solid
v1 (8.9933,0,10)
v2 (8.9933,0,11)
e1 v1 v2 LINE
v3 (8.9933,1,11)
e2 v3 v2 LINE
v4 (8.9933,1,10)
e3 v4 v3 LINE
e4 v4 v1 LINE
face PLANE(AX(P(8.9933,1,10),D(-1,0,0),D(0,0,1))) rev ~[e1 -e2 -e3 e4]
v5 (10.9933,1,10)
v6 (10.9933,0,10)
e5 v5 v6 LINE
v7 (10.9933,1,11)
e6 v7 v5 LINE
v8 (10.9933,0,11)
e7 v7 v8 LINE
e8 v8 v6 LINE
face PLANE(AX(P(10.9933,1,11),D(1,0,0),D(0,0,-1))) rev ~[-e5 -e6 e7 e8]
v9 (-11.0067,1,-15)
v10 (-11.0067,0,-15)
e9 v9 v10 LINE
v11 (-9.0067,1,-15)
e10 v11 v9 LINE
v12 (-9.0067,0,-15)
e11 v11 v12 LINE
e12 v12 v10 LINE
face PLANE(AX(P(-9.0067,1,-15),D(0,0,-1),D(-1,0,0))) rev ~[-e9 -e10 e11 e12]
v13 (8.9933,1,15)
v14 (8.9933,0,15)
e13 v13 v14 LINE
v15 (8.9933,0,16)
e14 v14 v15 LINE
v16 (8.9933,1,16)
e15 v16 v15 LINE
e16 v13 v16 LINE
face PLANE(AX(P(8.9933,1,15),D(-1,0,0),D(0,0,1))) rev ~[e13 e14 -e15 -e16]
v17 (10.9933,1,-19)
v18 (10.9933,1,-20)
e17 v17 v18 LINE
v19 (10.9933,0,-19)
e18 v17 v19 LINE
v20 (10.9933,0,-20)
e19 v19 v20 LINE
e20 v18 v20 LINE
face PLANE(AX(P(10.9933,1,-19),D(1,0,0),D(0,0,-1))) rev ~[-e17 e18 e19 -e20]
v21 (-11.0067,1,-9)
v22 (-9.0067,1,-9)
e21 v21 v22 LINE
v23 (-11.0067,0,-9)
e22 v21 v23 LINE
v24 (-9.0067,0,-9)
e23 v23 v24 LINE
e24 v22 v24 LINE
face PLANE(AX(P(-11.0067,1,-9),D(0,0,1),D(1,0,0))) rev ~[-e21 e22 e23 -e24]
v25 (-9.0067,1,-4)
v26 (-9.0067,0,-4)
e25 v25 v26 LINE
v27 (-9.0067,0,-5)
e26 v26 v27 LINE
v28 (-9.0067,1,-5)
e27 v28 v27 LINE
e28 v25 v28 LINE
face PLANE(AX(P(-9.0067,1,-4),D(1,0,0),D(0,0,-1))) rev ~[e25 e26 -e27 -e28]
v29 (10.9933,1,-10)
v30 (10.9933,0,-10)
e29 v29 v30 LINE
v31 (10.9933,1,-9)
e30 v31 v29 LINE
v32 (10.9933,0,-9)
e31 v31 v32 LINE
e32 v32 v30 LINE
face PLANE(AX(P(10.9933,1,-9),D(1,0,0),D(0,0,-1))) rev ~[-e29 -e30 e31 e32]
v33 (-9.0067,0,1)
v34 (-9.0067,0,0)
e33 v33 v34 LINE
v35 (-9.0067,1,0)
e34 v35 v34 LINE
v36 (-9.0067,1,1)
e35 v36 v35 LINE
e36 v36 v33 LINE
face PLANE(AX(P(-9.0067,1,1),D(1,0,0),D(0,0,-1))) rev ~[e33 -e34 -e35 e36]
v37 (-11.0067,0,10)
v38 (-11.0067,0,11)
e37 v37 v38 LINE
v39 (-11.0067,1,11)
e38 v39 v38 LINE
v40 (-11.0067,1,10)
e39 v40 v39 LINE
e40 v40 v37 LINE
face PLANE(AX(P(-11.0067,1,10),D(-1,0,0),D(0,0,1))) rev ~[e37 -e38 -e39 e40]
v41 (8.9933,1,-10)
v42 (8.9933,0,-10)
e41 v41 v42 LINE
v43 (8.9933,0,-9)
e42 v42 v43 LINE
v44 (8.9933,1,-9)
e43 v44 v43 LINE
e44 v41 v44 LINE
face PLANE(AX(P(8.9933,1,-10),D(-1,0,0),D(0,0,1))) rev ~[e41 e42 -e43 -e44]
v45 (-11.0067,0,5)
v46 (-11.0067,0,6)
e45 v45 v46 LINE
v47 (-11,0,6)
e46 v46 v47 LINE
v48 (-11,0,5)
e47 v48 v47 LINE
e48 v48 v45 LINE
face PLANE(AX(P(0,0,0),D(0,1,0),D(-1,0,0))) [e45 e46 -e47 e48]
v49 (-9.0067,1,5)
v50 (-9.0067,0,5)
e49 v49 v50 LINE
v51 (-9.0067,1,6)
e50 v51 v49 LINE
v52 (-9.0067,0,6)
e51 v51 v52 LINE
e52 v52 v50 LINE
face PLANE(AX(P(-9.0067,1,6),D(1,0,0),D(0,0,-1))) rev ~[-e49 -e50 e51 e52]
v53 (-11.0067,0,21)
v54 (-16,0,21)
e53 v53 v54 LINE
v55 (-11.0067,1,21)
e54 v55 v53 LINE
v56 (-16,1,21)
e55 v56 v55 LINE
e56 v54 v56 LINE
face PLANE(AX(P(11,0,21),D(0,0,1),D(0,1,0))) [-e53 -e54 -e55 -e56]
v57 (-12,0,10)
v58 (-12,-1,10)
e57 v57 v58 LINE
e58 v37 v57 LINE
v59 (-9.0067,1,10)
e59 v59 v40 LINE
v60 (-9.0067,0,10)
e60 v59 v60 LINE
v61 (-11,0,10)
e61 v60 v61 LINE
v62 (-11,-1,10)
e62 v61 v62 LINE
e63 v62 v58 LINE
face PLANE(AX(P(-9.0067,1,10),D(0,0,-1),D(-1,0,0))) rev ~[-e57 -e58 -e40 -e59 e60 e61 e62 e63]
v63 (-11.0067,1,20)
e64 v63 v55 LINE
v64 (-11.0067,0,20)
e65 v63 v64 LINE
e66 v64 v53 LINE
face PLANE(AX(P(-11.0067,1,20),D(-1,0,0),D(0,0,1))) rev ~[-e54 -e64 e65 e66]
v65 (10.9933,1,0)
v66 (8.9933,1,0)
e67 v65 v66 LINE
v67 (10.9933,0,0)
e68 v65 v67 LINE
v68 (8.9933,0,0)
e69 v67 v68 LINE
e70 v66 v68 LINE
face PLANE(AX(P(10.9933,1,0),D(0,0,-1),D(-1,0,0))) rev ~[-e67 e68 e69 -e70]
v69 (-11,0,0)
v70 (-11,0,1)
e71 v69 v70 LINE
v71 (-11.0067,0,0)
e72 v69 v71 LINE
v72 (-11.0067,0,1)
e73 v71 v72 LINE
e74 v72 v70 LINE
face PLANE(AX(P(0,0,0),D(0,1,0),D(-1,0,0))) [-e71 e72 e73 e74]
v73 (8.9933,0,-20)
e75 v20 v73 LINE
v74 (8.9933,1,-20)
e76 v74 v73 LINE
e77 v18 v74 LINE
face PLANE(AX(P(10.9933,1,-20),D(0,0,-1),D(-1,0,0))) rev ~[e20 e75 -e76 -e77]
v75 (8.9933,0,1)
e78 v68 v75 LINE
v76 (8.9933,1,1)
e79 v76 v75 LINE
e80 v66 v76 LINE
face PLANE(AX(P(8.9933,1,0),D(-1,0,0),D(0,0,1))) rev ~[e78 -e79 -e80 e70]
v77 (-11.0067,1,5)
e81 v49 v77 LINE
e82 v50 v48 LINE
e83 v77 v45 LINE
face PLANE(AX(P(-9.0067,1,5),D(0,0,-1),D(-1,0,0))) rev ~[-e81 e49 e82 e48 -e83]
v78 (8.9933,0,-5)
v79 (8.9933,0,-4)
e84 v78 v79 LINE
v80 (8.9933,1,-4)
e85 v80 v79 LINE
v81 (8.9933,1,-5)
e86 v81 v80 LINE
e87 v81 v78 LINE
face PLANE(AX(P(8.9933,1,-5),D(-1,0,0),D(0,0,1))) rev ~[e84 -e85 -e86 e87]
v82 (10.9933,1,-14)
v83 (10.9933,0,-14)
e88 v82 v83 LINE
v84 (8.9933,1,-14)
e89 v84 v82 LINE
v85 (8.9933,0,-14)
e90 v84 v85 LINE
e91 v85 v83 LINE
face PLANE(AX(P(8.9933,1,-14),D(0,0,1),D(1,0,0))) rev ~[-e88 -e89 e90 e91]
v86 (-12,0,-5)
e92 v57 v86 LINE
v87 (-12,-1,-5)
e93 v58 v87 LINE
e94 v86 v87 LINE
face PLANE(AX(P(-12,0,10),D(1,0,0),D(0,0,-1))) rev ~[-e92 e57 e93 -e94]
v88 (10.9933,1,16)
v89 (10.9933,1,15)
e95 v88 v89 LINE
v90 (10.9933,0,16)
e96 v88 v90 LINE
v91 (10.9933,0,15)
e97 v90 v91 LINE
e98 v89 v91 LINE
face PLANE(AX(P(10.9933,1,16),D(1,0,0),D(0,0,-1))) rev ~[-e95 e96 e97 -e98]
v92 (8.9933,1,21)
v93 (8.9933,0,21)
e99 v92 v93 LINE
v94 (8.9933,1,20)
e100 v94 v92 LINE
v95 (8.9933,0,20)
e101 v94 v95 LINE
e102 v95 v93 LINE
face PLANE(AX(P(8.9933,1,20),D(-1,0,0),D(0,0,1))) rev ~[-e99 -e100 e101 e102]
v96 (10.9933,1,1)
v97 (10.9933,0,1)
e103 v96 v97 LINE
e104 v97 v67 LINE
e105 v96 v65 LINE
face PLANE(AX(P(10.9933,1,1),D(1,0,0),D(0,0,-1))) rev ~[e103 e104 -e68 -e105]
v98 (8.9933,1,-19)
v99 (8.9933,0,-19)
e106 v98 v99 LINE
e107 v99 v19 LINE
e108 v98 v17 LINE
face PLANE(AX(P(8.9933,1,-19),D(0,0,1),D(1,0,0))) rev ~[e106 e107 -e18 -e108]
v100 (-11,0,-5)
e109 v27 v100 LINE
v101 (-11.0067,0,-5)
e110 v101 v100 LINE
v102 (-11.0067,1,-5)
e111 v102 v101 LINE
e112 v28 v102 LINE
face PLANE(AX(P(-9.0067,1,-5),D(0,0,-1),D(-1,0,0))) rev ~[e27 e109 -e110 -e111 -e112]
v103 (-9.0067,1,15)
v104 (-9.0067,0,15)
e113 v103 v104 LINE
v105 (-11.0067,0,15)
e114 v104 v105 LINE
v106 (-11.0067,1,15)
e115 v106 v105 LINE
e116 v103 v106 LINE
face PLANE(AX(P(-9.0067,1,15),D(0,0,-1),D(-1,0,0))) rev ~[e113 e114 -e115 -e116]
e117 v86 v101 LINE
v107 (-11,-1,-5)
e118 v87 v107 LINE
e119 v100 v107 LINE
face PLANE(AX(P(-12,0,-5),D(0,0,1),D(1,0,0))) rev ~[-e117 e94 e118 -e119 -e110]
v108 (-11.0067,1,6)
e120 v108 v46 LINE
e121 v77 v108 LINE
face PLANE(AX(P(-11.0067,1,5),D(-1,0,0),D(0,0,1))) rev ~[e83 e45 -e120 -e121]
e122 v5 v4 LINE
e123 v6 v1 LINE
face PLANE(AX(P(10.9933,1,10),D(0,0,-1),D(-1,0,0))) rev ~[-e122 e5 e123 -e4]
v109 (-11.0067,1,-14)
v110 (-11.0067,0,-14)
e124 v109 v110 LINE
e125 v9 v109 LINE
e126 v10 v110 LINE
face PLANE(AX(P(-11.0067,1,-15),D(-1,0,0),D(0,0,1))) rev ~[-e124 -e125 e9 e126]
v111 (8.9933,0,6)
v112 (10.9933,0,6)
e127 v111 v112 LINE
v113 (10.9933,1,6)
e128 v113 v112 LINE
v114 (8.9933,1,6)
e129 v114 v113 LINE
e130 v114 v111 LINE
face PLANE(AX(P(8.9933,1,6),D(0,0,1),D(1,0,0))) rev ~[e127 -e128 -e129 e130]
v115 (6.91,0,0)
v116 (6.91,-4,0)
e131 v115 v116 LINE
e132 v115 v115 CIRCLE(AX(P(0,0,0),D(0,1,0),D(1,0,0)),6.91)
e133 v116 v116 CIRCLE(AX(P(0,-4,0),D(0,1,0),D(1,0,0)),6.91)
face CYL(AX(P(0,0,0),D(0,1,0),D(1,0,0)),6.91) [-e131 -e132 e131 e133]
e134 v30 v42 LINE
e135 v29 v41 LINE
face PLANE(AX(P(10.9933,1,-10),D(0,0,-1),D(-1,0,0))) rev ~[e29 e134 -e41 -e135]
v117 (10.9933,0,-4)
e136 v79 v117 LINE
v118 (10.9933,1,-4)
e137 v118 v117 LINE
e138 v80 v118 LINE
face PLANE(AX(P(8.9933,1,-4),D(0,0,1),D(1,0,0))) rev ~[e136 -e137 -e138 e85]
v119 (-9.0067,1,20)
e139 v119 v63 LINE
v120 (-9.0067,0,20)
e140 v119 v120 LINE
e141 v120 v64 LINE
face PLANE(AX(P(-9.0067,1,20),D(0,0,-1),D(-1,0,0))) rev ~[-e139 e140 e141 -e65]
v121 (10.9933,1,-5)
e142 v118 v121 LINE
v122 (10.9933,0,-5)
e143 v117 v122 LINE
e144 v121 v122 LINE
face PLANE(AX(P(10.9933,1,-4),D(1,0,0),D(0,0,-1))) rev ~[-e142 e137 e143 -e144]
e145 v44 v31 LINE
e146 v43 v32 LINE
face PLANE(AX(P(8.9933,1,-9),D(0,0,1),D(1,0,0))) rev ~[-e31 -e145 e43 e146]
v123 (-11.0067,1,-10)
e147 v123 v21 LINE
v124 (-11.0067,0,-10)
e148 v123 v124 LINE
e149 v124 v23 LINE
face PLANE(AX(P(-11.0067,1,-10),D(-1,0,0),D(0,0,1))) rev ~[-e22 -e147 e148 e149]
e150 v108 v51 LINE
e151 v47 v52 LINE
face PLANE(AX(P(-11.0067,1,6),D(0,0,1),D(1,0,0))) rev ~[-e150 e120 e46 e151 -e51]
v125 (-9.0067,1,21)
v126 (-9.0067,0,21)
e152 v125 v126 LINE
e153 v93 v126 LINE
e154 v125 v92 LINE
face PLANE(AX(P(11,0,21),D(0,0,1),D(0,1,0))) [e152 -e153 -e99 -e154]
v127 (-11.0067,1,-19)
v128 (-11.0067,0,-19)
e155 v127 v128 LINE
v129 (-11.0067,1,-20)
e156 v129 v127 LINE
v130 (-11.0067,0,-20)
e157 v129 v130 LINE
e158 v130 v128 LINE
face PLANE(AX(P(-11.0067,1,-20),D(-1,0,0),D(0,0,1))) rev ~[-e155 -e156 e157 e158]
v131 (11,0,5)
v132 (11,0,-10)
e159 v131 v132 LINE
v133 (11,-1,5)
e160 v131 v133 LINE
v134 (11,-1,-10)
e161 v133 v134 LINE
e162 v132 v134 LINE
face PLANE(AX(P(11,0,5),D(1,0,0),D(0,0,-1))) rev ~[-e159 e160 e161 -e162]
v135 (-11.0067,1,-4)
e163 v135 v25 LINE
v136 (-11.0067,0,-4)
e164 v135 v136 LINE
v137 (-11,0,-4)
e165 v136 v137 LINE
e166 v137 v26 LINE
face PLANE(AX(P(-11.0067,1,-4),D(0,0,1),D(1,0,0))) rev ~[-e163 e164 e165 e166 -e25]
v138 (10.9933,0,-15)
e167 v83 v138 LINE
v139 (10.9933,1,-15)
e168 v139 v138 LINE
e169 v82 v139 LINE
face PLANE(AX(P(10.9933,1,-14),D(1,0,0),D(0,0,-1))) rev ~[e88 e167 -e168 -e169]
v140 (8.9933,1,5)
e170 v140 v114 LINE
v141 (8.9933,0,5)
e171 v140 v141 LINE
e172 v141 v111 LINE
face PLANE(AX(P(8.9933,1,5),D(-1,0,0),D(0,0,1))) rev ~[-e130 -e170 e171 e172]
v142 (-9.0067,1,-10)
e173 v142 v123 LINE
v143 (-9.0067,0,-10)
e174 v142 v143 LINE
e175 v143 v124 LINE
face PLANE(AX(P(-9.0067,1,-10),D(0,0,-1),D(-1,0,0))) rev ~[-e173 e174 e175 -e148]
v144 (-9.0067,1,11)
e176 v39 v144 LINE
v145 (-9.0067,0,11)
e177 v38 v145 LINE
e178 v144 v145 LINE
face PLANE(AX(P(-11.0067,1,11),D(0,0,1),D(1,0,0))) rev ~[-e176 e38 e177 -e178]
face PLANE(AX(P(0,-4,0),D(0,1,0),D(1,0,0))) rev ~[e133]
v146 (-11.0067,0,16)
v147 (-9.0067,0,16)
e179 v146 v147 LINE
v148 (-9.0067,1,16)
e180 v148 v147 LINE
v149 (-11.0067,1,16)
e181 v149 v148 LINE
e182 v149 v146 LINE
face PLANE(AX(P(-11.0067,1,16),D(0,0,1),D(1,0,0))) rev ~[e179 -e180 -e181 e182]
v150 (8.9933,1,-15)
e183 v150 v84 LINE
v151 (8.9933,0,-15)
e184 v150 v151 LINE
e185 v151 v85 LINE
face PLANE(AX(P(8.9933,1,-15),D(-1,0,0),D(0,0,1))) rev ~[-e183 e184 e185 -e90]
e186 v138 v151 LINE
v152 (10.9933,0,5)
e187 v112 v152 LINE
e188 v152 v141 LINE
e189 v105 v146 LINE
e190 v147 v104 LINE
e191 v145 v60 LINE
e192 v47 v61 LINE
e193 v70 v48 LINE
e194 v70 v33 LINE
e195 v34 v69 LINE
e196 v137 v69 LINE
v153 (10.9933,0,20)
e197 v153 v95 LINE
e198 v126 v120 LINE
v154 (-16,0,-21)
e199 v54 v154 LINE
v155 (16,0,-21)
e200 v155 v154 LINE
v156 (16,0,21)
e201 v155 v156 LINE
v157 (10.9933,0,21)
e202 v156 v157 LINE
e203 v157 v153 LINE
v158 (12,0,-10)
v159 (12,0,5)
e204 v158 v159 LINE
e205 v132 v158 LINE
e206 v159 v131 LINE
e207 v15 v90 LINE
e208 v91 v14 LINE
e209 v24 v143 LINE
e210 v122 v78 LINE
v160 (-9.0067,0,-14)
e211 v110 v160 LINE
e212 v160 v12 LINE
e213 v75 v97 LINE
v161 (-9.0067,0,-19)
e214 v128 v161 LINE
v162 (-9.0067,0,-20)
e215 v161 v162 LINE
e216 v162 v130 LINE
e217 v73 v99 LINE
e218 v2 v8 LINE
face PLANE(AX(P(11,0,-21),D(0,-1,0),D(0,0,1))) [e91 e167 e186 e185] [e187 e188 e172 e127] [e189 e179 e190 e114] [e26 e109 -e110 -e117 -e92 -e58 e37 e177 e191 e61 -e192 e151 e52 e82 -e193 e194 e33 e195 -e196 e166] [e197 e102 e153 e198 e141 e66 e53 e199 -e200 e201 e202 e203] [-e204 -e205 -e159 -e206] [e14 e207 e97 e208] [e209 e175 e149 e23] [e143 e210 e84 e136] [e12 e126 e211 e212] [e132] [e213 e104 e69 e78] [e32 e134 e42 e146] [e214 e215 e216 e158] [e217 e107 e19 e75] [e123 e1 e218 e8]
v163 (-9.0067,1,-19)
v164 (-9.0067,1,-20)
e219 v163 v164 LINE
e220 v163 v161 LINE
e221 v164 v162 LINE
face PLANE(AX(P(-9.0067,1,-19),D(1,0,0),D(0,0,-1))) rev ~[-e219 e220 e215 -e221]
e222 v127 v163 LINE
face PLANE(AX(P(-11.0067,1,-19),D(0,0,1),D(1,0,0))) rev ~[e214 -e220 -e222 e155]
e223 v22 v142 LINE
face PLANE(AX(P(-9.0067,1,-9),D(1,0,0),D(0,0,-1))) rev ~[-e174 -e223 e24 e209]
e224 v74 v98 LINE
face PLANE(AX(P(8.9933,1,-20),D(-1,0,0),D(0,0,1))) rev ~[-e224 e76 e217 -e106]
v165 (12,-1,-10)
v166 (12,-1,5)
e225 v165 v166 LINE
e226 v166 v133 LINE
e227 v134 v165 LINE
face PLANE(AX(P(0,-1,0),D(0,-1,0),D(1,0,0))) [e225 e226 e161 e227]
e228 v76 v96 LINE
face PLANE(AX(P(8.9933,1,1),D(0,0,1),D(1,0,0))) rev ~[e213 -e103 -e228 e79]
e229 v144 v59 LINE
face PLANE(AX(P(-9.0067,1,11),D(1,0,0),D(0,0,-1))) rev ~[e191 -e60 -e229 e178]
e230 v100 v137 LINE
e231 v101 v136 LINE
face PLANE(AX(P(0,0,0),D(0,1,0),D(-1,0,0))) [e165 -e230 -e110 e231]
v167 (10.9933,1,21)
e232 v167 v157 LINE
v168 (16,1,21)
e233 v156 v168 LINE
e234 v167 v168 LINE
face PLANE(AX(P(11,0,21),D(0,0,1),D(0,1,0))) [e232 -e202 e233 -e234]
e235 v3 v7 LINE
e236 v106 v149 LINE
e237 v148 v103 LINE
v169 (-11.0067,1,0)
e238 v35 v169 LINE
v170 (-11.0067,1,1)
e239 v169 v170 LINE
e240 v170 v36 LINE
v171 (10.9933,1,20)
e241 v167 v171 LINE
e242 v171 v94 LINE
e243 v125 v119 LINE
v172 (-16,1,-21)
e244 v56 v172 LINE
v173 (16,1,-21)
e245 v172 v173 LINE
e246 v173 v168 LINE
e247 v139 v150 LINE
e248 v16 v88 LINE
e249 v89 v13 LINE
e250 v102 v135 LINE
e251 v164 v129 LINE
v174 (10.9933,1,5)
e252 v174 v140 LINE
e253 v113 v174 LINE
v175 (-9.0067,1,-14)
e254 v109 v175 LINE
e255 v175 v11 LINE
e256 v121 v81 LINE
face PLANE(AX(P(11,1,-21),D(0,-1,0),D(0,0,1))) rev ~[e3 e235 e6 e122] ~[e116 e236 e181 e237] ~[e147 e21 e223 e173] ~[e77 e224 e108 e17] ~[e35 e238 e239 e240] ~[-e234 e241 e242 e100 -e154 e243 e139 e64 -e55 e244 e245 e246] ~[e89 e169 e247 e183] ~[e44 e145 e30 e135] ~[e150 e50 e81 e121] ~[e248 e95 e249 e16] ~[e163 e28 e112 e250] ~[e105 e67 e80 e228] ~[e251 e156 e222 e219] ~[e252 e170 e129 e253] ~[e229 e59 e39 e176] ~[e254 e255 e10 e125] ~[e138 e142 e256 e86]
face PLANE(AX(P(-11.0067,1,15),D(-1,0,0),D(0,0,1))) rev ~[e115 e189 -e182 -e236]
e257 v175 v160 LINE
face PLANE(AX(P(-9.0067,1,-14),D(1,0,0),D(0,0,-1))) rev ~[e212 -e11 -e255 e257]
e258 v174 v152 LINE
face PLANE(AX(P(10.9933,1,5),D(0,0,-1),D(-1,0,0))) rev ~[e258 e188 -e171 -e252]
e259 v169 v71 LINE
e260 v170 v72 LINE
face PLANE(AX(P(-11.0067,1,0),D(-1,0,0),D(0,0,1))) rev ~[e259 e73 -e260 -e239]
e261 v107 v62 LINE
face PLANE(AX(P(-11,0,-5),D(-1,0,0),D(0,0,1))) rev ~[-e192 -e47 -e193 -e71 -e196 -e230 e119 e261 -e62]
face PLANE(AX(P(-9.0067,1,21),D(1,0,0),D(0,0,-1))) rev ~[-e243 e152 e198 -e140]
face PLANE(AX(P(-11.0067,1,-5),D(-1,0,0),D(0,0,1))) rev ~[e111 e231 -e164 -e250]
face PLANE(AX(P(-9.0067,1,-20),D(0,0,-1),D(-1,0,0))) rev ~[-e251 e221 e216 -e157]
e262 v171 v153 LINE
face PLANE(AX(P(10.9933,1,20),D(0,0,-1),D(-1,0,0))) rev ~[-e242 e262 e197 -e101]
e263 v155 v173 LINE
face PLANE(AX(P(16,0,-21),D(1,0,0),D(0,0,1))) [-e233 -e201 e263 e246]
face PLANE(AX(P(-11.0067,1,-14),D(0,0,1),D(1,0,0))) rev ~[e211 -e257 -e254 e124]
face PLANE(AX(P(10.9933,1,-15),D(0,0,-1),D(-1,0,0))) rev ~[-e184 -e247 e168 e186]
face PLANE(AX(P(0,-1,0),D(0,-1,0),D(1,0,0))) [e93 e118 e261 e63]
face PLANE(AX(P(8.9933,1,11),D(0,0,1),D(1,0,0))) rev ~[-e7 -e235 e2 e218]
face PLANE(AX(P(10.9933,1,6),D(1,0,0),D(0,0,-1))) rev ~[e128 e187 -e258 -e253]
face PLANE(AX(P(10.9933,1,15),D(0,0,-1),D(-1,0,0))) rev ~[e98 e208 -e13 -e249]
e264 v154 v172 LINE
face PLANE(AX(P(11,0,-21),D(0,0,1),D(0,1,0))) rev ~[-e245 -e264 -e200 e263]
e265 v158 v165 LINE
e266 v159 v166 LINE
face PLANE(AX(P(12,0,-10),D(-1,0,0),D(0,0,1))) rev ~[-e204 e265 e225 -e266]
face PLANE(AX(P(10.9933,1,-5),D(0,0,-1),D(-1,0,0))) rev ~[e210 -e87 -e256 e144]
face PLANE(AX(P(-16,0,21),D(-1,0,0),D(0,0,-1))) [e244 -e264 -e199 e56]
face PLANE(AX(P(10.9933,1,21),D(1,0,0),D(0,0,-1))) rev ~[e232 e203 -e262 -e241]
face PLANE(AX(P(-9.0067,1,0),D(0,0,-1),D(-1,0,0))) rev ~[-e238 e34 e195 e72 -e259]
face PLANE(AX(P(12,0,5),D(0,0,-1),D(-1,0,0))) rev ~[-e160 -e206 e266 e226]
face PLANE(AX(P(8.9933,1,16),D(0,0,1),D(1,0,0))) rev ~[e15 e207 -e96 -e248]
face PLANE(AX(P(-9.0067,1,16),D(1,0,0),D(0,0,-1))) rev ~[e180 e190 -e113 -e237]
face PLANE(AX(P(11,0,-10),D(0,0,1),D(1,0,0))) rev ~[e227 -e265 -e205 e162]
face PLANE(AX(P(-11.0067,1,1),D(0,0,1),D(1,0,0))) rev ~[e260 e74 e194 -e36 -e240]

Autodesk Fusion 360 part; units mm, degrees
sketch "Sketch1" plane through (0, 0, 0) normal (0, 1, 0) x (1, 0, 0)
  circle A0 centre (0, 0) radius 6.91
  dimension "d1" = 13.82
extrude "Extrude1" add sketch "Sketch1" against normal blind 4 makes body 1
sketch "Sketch2" plane through (0, 0, 0) normal (0, 1, 0) x (1, 0, 0)
  line L0 (11, -21) -> (-11, -21)
  line L1 (-11, -21) -> (-11, 21)
  line L2 (-11, 21) -> (11, 21)
  line L3 (11, 21) -> (11, -21)
  line L4 (11, -21) -> (-11, 21) construction
  line L5 (-11, -21) -> (11, 21) construction
  dimension "d4" = 22
  dimension "d5" = 42
extrude "Extrude2" add sketch "Sketch2" along normal blind 1 bodies 1
extrude "Extrude3" add 1 faces at (-11, 0.3333, 7) along direction (-1, 0, 0) blind 5 on bodies 1 bodies 1
extrude "Extrude4" add 1 faces at (11, 0.3333, -7) along direction (1, 0, 0) blind 5 on bodies 1 bodies 1
sketch "Sketch3" plane through (0, 0, 0) normal (0, -1, 0) x (1, 0, 0)
  line L0 (-16, -21) -> (16, -21)
  line L1 (16, -21) -> (16, 21)
  line L2 (16, 21) -> (-16, 21)
  line L3 (-16, 21) -> (-16, -21)
  circle A0 centre (0, 0) radius 6.91
  line L4 (11, -10) -> (12, -10)
  line L5 (12, -10) -> (12, 5)
  line L6 (12, 5) -> (11, 5)
  line L7 (11, 5) -> (11, -10)
  line L8 (-11, 10) -> (-12, 10)
  line L9 (-12, 10) -> (-12, -5)
  line L10 (-12, -5) -> (-11, -5)
  line L11 (-11, -5) -> (-11, 10)
  dimension "d67" = 15
extrude "Extrude5" add sketch "Sketch3" along normal blind 1 separate body contours L4 L5 L6 L7 makes body 2
extrude "Extrude6" add sketch "Sketch3" along normal blind 1 separate body contours L8 L9 L10 L11 makes body 3
combine "Combine1" operation add target body 1 tool bodies 2 3
sketch "Sketch4" plane through (0, 1, 0) normal (0, 1, 0) x (-1, 0, 0)
  line L0 (-16, -21) -> (16, -21)
  line L1 (16, -21) -> (16, 21)
  line L2 (16, 21) -> (-16, 21)
  line L3 (-16, 21) -> (-16, -21)
  line L4 (11.0067, 21) -> (9.0067, 21)
  line L5 (9.0067, 21) -> (9.0067, 20)
  line L6 (9.0067, 20) -> (11.0067, 20)
  line L7 (11.0067, 20) -> (11.0067, 21)
  line L8 (9.0067, 15) -> (11.0067, 15)
  line L9 (9.0067, 16) -> (9.0067, 15)
  line L10 (11.0067, 16) -> (9.0067, 16)
  line L11 (11.0067, 15) -> (11.0067, 16)
  line L12 (9.0067, 5) -> (11.0067, 5)
  line L13 (9.0067, 6) -> (9.0067, 5)
  line L14 (11.0067, 6) -> (9.0067, 6)
  line L15 (11.0067, 5) -> (11.0067, 6)
  line L16 (9.0067, 10) -> (11.0067, 10)
  line L17 (9.0067, 11) -> (9.0067, 10)
  line L18 (11.0067, 11) -> (9.0067, 11)
  line L19 (11.0067, 10) -> (11.0067, 11)
  line L20 (11.0067, 1) -> (9.0067, 1)
  line L21 (9.0067, 0) -> (11.0067, 0)
  line L22 (9.0067, 1) -> (9.0067, 0)
  line L23 (11.0067, 0) -> (11.0067, 1)
  line L24 (11.0067, -4) -> (9.0067, -4)
  line L25 (9.0067, -4) -> (9.0067, -5)
  line L26 (11.0067, -5) -> (11.0067, -4)
  line L27 (9.0067, -5) -> (11.0067, -5)
  line L28 (11.0067, -9) -> (9.0067, -9)
  line L29 (9.0067, -10) -> (11.0067, -10)
  line L30 (11.0067, -10) -> (11.0067, -9)
  line L31 (9.0067, -9) -> (9.0067, -10)
  line L32 (11.0067, -14) -> (9.0067, -14)
  line L33 (9.0067, -14) -> (9.0067, -15)
  line L34 (9.0067, -15) -> (11.0067, -15)
  line L35 (11.0067, -15) -> (11.0067, -14)
  line L36 (11.0067, -19) -> (9.0067, -19)
  line L37 (9.0067, -20) -> (11.0067, -20)
  line L38 (11.0067, -20) -> (11.0067, -19)
  line L39 (9.0067, -19) -> (9.0067, -20)
  line L40 (-10.9933, 21) -> (-10.9933, 20)
  line L41 (-10.9933, 20) -> (-8.9933, 20)
  line L42 (-8.9933, 20) -> (-8.9933, 21)
  line L43 (-8.9933, 21) -> (-10.9933, 21)
  line L44 (-10.9933, 16) -> (-10.9933, 15)
  line L45 (-10.9933, 15) -> (-8.9933, 15)
  line L46 (-8.9933, 16) -> (-10.9933, 16)
  line L47 (-8.9933, 15) -> (-8.9933, 16)
  line L48 (-10.9933, 10) -> (-8.9933, 10)
  line L49 (-8.9933, 11) -> (-10.9933, 11)
  line L50 (-10.9933, 11) -> (-10.9933, 10)
  line L51 (-8.9933, 10) -> (-8.9933, 11)
  line L52 (-10.9933, 6) -> (-10.9933, 5)
  line L53 (-8.9933, 6) -> (-10.9933, 6)
  line L54 (-10.9933, 5) -> (-8.9933, 5)
  line L55 (-8.9933, 5) -> (-8.9933, 6)
  line L56 (-8.9933, 0) -> (-8.9933, 1)
  line L57 (-10.9933, 0) -> (-8.9933, 0)
  line L58 (-8.9933, 1) -> (-10.9933, 1)
  line L59 (-10.9933, 1) -> (-10.9933, 0)
  line L60 (-8.9933, -4) -> (-10.9933, -4)
  line L61 (-10.9933, -4) -> (-10.9933, -5)
  line L62 (-10.9933, -5) -> (-8.9933, -5)
  line L63 (-8.9933, -5) -> (-8.9933, -4)
  line L64 (-8.9933, -9) -> (-10.9933, -9)
  line L65 (-10.9933, -10) -> (-8.9933, -10)
  line L66 (-10.9933, -9) -> (-10.9933, -10)
  line L67 (-8.9933, -10) -> (-8.9933, -9)
  line L68 (-8.9933, -14) -> (-10.9933, -14)
  line L69 (-10.9933, -14) -> (-10.9933, -15)
  line L70 (-8.9933, -15) -> (-8.9933, -14)
  line L71 (-10.9933, -15) -> (-8.9933, -15)
  line L72 (-8.9933, -19) -> (-10.9933, -19)
  line L73 (-10.9933, -19) -> (-10.9933, -20)
  line L74 (-10.9933, -20) -> (-8.9933, -20)
  line L75 (-8.9933, -20) -> (-8.9933, -19)
  dimension "d88" = 2
  dimension "d89" = 1
  dimension "d90" = 2
  dimension "d91" = 1
  dimension "d92" = 2
  dimension "d93" = 1
  dimension "d94" = 2
  dimension "d95" = 1
  dimension "d96" = 2
  dimension "d97" = 1
  dimension "d98" = 2
  dimension "d99" = 1
  dimension "d100" = 2
  dimension "d101" = 1
  dimension "d102" = 2
  dimension "d103" = 1
  dimension "d104" = 2
  dimension "d105" = 1
  dimension "d106" = 2
  dimension "d107" = 1
  dimension "d108" = 2
  dimension "d109" = 1
  dimension "d110" = 2
  dimension "d111" = 1
  dimension "d112" = 2
  dimension "d113" = 1
  dimension "d114" = 2
  dimension "d115" = 1
  dimension "d116" = 2
  dimension "d117" = 1
  dimension "d118" = 2
  dimension "d119" = 1
  dimension "d120" = 2
  dimension "d121" = 1
  dimension "d122" = 2
  dimension "d123" = 1
extrude "Extrude7" cut sketch "Sketch4" against normal blind 1 contours L2 L40 L41 L42 L43 | L2 L4 L5 L6 L7 | L8 L9 L10 L11 | L12 L13 L14 L15 | L16 L17 L18 L19 | L20 L21 L22 L23 | L24 L25 L26 L27 | L28 L29 L30 L31 | L32 L33 L34 L35 | L36 L37 L38 L39 | L44 L45 L46 L47 | L48 L49 L50 L51 | L52 L53 L54 L55 | L56 L57 L58 L59 | L60 L61 L62 L63 | L64 L65 L66 L67 | L68 L69 L70 L71 | L72 L73 L74 L75 bodies 1
